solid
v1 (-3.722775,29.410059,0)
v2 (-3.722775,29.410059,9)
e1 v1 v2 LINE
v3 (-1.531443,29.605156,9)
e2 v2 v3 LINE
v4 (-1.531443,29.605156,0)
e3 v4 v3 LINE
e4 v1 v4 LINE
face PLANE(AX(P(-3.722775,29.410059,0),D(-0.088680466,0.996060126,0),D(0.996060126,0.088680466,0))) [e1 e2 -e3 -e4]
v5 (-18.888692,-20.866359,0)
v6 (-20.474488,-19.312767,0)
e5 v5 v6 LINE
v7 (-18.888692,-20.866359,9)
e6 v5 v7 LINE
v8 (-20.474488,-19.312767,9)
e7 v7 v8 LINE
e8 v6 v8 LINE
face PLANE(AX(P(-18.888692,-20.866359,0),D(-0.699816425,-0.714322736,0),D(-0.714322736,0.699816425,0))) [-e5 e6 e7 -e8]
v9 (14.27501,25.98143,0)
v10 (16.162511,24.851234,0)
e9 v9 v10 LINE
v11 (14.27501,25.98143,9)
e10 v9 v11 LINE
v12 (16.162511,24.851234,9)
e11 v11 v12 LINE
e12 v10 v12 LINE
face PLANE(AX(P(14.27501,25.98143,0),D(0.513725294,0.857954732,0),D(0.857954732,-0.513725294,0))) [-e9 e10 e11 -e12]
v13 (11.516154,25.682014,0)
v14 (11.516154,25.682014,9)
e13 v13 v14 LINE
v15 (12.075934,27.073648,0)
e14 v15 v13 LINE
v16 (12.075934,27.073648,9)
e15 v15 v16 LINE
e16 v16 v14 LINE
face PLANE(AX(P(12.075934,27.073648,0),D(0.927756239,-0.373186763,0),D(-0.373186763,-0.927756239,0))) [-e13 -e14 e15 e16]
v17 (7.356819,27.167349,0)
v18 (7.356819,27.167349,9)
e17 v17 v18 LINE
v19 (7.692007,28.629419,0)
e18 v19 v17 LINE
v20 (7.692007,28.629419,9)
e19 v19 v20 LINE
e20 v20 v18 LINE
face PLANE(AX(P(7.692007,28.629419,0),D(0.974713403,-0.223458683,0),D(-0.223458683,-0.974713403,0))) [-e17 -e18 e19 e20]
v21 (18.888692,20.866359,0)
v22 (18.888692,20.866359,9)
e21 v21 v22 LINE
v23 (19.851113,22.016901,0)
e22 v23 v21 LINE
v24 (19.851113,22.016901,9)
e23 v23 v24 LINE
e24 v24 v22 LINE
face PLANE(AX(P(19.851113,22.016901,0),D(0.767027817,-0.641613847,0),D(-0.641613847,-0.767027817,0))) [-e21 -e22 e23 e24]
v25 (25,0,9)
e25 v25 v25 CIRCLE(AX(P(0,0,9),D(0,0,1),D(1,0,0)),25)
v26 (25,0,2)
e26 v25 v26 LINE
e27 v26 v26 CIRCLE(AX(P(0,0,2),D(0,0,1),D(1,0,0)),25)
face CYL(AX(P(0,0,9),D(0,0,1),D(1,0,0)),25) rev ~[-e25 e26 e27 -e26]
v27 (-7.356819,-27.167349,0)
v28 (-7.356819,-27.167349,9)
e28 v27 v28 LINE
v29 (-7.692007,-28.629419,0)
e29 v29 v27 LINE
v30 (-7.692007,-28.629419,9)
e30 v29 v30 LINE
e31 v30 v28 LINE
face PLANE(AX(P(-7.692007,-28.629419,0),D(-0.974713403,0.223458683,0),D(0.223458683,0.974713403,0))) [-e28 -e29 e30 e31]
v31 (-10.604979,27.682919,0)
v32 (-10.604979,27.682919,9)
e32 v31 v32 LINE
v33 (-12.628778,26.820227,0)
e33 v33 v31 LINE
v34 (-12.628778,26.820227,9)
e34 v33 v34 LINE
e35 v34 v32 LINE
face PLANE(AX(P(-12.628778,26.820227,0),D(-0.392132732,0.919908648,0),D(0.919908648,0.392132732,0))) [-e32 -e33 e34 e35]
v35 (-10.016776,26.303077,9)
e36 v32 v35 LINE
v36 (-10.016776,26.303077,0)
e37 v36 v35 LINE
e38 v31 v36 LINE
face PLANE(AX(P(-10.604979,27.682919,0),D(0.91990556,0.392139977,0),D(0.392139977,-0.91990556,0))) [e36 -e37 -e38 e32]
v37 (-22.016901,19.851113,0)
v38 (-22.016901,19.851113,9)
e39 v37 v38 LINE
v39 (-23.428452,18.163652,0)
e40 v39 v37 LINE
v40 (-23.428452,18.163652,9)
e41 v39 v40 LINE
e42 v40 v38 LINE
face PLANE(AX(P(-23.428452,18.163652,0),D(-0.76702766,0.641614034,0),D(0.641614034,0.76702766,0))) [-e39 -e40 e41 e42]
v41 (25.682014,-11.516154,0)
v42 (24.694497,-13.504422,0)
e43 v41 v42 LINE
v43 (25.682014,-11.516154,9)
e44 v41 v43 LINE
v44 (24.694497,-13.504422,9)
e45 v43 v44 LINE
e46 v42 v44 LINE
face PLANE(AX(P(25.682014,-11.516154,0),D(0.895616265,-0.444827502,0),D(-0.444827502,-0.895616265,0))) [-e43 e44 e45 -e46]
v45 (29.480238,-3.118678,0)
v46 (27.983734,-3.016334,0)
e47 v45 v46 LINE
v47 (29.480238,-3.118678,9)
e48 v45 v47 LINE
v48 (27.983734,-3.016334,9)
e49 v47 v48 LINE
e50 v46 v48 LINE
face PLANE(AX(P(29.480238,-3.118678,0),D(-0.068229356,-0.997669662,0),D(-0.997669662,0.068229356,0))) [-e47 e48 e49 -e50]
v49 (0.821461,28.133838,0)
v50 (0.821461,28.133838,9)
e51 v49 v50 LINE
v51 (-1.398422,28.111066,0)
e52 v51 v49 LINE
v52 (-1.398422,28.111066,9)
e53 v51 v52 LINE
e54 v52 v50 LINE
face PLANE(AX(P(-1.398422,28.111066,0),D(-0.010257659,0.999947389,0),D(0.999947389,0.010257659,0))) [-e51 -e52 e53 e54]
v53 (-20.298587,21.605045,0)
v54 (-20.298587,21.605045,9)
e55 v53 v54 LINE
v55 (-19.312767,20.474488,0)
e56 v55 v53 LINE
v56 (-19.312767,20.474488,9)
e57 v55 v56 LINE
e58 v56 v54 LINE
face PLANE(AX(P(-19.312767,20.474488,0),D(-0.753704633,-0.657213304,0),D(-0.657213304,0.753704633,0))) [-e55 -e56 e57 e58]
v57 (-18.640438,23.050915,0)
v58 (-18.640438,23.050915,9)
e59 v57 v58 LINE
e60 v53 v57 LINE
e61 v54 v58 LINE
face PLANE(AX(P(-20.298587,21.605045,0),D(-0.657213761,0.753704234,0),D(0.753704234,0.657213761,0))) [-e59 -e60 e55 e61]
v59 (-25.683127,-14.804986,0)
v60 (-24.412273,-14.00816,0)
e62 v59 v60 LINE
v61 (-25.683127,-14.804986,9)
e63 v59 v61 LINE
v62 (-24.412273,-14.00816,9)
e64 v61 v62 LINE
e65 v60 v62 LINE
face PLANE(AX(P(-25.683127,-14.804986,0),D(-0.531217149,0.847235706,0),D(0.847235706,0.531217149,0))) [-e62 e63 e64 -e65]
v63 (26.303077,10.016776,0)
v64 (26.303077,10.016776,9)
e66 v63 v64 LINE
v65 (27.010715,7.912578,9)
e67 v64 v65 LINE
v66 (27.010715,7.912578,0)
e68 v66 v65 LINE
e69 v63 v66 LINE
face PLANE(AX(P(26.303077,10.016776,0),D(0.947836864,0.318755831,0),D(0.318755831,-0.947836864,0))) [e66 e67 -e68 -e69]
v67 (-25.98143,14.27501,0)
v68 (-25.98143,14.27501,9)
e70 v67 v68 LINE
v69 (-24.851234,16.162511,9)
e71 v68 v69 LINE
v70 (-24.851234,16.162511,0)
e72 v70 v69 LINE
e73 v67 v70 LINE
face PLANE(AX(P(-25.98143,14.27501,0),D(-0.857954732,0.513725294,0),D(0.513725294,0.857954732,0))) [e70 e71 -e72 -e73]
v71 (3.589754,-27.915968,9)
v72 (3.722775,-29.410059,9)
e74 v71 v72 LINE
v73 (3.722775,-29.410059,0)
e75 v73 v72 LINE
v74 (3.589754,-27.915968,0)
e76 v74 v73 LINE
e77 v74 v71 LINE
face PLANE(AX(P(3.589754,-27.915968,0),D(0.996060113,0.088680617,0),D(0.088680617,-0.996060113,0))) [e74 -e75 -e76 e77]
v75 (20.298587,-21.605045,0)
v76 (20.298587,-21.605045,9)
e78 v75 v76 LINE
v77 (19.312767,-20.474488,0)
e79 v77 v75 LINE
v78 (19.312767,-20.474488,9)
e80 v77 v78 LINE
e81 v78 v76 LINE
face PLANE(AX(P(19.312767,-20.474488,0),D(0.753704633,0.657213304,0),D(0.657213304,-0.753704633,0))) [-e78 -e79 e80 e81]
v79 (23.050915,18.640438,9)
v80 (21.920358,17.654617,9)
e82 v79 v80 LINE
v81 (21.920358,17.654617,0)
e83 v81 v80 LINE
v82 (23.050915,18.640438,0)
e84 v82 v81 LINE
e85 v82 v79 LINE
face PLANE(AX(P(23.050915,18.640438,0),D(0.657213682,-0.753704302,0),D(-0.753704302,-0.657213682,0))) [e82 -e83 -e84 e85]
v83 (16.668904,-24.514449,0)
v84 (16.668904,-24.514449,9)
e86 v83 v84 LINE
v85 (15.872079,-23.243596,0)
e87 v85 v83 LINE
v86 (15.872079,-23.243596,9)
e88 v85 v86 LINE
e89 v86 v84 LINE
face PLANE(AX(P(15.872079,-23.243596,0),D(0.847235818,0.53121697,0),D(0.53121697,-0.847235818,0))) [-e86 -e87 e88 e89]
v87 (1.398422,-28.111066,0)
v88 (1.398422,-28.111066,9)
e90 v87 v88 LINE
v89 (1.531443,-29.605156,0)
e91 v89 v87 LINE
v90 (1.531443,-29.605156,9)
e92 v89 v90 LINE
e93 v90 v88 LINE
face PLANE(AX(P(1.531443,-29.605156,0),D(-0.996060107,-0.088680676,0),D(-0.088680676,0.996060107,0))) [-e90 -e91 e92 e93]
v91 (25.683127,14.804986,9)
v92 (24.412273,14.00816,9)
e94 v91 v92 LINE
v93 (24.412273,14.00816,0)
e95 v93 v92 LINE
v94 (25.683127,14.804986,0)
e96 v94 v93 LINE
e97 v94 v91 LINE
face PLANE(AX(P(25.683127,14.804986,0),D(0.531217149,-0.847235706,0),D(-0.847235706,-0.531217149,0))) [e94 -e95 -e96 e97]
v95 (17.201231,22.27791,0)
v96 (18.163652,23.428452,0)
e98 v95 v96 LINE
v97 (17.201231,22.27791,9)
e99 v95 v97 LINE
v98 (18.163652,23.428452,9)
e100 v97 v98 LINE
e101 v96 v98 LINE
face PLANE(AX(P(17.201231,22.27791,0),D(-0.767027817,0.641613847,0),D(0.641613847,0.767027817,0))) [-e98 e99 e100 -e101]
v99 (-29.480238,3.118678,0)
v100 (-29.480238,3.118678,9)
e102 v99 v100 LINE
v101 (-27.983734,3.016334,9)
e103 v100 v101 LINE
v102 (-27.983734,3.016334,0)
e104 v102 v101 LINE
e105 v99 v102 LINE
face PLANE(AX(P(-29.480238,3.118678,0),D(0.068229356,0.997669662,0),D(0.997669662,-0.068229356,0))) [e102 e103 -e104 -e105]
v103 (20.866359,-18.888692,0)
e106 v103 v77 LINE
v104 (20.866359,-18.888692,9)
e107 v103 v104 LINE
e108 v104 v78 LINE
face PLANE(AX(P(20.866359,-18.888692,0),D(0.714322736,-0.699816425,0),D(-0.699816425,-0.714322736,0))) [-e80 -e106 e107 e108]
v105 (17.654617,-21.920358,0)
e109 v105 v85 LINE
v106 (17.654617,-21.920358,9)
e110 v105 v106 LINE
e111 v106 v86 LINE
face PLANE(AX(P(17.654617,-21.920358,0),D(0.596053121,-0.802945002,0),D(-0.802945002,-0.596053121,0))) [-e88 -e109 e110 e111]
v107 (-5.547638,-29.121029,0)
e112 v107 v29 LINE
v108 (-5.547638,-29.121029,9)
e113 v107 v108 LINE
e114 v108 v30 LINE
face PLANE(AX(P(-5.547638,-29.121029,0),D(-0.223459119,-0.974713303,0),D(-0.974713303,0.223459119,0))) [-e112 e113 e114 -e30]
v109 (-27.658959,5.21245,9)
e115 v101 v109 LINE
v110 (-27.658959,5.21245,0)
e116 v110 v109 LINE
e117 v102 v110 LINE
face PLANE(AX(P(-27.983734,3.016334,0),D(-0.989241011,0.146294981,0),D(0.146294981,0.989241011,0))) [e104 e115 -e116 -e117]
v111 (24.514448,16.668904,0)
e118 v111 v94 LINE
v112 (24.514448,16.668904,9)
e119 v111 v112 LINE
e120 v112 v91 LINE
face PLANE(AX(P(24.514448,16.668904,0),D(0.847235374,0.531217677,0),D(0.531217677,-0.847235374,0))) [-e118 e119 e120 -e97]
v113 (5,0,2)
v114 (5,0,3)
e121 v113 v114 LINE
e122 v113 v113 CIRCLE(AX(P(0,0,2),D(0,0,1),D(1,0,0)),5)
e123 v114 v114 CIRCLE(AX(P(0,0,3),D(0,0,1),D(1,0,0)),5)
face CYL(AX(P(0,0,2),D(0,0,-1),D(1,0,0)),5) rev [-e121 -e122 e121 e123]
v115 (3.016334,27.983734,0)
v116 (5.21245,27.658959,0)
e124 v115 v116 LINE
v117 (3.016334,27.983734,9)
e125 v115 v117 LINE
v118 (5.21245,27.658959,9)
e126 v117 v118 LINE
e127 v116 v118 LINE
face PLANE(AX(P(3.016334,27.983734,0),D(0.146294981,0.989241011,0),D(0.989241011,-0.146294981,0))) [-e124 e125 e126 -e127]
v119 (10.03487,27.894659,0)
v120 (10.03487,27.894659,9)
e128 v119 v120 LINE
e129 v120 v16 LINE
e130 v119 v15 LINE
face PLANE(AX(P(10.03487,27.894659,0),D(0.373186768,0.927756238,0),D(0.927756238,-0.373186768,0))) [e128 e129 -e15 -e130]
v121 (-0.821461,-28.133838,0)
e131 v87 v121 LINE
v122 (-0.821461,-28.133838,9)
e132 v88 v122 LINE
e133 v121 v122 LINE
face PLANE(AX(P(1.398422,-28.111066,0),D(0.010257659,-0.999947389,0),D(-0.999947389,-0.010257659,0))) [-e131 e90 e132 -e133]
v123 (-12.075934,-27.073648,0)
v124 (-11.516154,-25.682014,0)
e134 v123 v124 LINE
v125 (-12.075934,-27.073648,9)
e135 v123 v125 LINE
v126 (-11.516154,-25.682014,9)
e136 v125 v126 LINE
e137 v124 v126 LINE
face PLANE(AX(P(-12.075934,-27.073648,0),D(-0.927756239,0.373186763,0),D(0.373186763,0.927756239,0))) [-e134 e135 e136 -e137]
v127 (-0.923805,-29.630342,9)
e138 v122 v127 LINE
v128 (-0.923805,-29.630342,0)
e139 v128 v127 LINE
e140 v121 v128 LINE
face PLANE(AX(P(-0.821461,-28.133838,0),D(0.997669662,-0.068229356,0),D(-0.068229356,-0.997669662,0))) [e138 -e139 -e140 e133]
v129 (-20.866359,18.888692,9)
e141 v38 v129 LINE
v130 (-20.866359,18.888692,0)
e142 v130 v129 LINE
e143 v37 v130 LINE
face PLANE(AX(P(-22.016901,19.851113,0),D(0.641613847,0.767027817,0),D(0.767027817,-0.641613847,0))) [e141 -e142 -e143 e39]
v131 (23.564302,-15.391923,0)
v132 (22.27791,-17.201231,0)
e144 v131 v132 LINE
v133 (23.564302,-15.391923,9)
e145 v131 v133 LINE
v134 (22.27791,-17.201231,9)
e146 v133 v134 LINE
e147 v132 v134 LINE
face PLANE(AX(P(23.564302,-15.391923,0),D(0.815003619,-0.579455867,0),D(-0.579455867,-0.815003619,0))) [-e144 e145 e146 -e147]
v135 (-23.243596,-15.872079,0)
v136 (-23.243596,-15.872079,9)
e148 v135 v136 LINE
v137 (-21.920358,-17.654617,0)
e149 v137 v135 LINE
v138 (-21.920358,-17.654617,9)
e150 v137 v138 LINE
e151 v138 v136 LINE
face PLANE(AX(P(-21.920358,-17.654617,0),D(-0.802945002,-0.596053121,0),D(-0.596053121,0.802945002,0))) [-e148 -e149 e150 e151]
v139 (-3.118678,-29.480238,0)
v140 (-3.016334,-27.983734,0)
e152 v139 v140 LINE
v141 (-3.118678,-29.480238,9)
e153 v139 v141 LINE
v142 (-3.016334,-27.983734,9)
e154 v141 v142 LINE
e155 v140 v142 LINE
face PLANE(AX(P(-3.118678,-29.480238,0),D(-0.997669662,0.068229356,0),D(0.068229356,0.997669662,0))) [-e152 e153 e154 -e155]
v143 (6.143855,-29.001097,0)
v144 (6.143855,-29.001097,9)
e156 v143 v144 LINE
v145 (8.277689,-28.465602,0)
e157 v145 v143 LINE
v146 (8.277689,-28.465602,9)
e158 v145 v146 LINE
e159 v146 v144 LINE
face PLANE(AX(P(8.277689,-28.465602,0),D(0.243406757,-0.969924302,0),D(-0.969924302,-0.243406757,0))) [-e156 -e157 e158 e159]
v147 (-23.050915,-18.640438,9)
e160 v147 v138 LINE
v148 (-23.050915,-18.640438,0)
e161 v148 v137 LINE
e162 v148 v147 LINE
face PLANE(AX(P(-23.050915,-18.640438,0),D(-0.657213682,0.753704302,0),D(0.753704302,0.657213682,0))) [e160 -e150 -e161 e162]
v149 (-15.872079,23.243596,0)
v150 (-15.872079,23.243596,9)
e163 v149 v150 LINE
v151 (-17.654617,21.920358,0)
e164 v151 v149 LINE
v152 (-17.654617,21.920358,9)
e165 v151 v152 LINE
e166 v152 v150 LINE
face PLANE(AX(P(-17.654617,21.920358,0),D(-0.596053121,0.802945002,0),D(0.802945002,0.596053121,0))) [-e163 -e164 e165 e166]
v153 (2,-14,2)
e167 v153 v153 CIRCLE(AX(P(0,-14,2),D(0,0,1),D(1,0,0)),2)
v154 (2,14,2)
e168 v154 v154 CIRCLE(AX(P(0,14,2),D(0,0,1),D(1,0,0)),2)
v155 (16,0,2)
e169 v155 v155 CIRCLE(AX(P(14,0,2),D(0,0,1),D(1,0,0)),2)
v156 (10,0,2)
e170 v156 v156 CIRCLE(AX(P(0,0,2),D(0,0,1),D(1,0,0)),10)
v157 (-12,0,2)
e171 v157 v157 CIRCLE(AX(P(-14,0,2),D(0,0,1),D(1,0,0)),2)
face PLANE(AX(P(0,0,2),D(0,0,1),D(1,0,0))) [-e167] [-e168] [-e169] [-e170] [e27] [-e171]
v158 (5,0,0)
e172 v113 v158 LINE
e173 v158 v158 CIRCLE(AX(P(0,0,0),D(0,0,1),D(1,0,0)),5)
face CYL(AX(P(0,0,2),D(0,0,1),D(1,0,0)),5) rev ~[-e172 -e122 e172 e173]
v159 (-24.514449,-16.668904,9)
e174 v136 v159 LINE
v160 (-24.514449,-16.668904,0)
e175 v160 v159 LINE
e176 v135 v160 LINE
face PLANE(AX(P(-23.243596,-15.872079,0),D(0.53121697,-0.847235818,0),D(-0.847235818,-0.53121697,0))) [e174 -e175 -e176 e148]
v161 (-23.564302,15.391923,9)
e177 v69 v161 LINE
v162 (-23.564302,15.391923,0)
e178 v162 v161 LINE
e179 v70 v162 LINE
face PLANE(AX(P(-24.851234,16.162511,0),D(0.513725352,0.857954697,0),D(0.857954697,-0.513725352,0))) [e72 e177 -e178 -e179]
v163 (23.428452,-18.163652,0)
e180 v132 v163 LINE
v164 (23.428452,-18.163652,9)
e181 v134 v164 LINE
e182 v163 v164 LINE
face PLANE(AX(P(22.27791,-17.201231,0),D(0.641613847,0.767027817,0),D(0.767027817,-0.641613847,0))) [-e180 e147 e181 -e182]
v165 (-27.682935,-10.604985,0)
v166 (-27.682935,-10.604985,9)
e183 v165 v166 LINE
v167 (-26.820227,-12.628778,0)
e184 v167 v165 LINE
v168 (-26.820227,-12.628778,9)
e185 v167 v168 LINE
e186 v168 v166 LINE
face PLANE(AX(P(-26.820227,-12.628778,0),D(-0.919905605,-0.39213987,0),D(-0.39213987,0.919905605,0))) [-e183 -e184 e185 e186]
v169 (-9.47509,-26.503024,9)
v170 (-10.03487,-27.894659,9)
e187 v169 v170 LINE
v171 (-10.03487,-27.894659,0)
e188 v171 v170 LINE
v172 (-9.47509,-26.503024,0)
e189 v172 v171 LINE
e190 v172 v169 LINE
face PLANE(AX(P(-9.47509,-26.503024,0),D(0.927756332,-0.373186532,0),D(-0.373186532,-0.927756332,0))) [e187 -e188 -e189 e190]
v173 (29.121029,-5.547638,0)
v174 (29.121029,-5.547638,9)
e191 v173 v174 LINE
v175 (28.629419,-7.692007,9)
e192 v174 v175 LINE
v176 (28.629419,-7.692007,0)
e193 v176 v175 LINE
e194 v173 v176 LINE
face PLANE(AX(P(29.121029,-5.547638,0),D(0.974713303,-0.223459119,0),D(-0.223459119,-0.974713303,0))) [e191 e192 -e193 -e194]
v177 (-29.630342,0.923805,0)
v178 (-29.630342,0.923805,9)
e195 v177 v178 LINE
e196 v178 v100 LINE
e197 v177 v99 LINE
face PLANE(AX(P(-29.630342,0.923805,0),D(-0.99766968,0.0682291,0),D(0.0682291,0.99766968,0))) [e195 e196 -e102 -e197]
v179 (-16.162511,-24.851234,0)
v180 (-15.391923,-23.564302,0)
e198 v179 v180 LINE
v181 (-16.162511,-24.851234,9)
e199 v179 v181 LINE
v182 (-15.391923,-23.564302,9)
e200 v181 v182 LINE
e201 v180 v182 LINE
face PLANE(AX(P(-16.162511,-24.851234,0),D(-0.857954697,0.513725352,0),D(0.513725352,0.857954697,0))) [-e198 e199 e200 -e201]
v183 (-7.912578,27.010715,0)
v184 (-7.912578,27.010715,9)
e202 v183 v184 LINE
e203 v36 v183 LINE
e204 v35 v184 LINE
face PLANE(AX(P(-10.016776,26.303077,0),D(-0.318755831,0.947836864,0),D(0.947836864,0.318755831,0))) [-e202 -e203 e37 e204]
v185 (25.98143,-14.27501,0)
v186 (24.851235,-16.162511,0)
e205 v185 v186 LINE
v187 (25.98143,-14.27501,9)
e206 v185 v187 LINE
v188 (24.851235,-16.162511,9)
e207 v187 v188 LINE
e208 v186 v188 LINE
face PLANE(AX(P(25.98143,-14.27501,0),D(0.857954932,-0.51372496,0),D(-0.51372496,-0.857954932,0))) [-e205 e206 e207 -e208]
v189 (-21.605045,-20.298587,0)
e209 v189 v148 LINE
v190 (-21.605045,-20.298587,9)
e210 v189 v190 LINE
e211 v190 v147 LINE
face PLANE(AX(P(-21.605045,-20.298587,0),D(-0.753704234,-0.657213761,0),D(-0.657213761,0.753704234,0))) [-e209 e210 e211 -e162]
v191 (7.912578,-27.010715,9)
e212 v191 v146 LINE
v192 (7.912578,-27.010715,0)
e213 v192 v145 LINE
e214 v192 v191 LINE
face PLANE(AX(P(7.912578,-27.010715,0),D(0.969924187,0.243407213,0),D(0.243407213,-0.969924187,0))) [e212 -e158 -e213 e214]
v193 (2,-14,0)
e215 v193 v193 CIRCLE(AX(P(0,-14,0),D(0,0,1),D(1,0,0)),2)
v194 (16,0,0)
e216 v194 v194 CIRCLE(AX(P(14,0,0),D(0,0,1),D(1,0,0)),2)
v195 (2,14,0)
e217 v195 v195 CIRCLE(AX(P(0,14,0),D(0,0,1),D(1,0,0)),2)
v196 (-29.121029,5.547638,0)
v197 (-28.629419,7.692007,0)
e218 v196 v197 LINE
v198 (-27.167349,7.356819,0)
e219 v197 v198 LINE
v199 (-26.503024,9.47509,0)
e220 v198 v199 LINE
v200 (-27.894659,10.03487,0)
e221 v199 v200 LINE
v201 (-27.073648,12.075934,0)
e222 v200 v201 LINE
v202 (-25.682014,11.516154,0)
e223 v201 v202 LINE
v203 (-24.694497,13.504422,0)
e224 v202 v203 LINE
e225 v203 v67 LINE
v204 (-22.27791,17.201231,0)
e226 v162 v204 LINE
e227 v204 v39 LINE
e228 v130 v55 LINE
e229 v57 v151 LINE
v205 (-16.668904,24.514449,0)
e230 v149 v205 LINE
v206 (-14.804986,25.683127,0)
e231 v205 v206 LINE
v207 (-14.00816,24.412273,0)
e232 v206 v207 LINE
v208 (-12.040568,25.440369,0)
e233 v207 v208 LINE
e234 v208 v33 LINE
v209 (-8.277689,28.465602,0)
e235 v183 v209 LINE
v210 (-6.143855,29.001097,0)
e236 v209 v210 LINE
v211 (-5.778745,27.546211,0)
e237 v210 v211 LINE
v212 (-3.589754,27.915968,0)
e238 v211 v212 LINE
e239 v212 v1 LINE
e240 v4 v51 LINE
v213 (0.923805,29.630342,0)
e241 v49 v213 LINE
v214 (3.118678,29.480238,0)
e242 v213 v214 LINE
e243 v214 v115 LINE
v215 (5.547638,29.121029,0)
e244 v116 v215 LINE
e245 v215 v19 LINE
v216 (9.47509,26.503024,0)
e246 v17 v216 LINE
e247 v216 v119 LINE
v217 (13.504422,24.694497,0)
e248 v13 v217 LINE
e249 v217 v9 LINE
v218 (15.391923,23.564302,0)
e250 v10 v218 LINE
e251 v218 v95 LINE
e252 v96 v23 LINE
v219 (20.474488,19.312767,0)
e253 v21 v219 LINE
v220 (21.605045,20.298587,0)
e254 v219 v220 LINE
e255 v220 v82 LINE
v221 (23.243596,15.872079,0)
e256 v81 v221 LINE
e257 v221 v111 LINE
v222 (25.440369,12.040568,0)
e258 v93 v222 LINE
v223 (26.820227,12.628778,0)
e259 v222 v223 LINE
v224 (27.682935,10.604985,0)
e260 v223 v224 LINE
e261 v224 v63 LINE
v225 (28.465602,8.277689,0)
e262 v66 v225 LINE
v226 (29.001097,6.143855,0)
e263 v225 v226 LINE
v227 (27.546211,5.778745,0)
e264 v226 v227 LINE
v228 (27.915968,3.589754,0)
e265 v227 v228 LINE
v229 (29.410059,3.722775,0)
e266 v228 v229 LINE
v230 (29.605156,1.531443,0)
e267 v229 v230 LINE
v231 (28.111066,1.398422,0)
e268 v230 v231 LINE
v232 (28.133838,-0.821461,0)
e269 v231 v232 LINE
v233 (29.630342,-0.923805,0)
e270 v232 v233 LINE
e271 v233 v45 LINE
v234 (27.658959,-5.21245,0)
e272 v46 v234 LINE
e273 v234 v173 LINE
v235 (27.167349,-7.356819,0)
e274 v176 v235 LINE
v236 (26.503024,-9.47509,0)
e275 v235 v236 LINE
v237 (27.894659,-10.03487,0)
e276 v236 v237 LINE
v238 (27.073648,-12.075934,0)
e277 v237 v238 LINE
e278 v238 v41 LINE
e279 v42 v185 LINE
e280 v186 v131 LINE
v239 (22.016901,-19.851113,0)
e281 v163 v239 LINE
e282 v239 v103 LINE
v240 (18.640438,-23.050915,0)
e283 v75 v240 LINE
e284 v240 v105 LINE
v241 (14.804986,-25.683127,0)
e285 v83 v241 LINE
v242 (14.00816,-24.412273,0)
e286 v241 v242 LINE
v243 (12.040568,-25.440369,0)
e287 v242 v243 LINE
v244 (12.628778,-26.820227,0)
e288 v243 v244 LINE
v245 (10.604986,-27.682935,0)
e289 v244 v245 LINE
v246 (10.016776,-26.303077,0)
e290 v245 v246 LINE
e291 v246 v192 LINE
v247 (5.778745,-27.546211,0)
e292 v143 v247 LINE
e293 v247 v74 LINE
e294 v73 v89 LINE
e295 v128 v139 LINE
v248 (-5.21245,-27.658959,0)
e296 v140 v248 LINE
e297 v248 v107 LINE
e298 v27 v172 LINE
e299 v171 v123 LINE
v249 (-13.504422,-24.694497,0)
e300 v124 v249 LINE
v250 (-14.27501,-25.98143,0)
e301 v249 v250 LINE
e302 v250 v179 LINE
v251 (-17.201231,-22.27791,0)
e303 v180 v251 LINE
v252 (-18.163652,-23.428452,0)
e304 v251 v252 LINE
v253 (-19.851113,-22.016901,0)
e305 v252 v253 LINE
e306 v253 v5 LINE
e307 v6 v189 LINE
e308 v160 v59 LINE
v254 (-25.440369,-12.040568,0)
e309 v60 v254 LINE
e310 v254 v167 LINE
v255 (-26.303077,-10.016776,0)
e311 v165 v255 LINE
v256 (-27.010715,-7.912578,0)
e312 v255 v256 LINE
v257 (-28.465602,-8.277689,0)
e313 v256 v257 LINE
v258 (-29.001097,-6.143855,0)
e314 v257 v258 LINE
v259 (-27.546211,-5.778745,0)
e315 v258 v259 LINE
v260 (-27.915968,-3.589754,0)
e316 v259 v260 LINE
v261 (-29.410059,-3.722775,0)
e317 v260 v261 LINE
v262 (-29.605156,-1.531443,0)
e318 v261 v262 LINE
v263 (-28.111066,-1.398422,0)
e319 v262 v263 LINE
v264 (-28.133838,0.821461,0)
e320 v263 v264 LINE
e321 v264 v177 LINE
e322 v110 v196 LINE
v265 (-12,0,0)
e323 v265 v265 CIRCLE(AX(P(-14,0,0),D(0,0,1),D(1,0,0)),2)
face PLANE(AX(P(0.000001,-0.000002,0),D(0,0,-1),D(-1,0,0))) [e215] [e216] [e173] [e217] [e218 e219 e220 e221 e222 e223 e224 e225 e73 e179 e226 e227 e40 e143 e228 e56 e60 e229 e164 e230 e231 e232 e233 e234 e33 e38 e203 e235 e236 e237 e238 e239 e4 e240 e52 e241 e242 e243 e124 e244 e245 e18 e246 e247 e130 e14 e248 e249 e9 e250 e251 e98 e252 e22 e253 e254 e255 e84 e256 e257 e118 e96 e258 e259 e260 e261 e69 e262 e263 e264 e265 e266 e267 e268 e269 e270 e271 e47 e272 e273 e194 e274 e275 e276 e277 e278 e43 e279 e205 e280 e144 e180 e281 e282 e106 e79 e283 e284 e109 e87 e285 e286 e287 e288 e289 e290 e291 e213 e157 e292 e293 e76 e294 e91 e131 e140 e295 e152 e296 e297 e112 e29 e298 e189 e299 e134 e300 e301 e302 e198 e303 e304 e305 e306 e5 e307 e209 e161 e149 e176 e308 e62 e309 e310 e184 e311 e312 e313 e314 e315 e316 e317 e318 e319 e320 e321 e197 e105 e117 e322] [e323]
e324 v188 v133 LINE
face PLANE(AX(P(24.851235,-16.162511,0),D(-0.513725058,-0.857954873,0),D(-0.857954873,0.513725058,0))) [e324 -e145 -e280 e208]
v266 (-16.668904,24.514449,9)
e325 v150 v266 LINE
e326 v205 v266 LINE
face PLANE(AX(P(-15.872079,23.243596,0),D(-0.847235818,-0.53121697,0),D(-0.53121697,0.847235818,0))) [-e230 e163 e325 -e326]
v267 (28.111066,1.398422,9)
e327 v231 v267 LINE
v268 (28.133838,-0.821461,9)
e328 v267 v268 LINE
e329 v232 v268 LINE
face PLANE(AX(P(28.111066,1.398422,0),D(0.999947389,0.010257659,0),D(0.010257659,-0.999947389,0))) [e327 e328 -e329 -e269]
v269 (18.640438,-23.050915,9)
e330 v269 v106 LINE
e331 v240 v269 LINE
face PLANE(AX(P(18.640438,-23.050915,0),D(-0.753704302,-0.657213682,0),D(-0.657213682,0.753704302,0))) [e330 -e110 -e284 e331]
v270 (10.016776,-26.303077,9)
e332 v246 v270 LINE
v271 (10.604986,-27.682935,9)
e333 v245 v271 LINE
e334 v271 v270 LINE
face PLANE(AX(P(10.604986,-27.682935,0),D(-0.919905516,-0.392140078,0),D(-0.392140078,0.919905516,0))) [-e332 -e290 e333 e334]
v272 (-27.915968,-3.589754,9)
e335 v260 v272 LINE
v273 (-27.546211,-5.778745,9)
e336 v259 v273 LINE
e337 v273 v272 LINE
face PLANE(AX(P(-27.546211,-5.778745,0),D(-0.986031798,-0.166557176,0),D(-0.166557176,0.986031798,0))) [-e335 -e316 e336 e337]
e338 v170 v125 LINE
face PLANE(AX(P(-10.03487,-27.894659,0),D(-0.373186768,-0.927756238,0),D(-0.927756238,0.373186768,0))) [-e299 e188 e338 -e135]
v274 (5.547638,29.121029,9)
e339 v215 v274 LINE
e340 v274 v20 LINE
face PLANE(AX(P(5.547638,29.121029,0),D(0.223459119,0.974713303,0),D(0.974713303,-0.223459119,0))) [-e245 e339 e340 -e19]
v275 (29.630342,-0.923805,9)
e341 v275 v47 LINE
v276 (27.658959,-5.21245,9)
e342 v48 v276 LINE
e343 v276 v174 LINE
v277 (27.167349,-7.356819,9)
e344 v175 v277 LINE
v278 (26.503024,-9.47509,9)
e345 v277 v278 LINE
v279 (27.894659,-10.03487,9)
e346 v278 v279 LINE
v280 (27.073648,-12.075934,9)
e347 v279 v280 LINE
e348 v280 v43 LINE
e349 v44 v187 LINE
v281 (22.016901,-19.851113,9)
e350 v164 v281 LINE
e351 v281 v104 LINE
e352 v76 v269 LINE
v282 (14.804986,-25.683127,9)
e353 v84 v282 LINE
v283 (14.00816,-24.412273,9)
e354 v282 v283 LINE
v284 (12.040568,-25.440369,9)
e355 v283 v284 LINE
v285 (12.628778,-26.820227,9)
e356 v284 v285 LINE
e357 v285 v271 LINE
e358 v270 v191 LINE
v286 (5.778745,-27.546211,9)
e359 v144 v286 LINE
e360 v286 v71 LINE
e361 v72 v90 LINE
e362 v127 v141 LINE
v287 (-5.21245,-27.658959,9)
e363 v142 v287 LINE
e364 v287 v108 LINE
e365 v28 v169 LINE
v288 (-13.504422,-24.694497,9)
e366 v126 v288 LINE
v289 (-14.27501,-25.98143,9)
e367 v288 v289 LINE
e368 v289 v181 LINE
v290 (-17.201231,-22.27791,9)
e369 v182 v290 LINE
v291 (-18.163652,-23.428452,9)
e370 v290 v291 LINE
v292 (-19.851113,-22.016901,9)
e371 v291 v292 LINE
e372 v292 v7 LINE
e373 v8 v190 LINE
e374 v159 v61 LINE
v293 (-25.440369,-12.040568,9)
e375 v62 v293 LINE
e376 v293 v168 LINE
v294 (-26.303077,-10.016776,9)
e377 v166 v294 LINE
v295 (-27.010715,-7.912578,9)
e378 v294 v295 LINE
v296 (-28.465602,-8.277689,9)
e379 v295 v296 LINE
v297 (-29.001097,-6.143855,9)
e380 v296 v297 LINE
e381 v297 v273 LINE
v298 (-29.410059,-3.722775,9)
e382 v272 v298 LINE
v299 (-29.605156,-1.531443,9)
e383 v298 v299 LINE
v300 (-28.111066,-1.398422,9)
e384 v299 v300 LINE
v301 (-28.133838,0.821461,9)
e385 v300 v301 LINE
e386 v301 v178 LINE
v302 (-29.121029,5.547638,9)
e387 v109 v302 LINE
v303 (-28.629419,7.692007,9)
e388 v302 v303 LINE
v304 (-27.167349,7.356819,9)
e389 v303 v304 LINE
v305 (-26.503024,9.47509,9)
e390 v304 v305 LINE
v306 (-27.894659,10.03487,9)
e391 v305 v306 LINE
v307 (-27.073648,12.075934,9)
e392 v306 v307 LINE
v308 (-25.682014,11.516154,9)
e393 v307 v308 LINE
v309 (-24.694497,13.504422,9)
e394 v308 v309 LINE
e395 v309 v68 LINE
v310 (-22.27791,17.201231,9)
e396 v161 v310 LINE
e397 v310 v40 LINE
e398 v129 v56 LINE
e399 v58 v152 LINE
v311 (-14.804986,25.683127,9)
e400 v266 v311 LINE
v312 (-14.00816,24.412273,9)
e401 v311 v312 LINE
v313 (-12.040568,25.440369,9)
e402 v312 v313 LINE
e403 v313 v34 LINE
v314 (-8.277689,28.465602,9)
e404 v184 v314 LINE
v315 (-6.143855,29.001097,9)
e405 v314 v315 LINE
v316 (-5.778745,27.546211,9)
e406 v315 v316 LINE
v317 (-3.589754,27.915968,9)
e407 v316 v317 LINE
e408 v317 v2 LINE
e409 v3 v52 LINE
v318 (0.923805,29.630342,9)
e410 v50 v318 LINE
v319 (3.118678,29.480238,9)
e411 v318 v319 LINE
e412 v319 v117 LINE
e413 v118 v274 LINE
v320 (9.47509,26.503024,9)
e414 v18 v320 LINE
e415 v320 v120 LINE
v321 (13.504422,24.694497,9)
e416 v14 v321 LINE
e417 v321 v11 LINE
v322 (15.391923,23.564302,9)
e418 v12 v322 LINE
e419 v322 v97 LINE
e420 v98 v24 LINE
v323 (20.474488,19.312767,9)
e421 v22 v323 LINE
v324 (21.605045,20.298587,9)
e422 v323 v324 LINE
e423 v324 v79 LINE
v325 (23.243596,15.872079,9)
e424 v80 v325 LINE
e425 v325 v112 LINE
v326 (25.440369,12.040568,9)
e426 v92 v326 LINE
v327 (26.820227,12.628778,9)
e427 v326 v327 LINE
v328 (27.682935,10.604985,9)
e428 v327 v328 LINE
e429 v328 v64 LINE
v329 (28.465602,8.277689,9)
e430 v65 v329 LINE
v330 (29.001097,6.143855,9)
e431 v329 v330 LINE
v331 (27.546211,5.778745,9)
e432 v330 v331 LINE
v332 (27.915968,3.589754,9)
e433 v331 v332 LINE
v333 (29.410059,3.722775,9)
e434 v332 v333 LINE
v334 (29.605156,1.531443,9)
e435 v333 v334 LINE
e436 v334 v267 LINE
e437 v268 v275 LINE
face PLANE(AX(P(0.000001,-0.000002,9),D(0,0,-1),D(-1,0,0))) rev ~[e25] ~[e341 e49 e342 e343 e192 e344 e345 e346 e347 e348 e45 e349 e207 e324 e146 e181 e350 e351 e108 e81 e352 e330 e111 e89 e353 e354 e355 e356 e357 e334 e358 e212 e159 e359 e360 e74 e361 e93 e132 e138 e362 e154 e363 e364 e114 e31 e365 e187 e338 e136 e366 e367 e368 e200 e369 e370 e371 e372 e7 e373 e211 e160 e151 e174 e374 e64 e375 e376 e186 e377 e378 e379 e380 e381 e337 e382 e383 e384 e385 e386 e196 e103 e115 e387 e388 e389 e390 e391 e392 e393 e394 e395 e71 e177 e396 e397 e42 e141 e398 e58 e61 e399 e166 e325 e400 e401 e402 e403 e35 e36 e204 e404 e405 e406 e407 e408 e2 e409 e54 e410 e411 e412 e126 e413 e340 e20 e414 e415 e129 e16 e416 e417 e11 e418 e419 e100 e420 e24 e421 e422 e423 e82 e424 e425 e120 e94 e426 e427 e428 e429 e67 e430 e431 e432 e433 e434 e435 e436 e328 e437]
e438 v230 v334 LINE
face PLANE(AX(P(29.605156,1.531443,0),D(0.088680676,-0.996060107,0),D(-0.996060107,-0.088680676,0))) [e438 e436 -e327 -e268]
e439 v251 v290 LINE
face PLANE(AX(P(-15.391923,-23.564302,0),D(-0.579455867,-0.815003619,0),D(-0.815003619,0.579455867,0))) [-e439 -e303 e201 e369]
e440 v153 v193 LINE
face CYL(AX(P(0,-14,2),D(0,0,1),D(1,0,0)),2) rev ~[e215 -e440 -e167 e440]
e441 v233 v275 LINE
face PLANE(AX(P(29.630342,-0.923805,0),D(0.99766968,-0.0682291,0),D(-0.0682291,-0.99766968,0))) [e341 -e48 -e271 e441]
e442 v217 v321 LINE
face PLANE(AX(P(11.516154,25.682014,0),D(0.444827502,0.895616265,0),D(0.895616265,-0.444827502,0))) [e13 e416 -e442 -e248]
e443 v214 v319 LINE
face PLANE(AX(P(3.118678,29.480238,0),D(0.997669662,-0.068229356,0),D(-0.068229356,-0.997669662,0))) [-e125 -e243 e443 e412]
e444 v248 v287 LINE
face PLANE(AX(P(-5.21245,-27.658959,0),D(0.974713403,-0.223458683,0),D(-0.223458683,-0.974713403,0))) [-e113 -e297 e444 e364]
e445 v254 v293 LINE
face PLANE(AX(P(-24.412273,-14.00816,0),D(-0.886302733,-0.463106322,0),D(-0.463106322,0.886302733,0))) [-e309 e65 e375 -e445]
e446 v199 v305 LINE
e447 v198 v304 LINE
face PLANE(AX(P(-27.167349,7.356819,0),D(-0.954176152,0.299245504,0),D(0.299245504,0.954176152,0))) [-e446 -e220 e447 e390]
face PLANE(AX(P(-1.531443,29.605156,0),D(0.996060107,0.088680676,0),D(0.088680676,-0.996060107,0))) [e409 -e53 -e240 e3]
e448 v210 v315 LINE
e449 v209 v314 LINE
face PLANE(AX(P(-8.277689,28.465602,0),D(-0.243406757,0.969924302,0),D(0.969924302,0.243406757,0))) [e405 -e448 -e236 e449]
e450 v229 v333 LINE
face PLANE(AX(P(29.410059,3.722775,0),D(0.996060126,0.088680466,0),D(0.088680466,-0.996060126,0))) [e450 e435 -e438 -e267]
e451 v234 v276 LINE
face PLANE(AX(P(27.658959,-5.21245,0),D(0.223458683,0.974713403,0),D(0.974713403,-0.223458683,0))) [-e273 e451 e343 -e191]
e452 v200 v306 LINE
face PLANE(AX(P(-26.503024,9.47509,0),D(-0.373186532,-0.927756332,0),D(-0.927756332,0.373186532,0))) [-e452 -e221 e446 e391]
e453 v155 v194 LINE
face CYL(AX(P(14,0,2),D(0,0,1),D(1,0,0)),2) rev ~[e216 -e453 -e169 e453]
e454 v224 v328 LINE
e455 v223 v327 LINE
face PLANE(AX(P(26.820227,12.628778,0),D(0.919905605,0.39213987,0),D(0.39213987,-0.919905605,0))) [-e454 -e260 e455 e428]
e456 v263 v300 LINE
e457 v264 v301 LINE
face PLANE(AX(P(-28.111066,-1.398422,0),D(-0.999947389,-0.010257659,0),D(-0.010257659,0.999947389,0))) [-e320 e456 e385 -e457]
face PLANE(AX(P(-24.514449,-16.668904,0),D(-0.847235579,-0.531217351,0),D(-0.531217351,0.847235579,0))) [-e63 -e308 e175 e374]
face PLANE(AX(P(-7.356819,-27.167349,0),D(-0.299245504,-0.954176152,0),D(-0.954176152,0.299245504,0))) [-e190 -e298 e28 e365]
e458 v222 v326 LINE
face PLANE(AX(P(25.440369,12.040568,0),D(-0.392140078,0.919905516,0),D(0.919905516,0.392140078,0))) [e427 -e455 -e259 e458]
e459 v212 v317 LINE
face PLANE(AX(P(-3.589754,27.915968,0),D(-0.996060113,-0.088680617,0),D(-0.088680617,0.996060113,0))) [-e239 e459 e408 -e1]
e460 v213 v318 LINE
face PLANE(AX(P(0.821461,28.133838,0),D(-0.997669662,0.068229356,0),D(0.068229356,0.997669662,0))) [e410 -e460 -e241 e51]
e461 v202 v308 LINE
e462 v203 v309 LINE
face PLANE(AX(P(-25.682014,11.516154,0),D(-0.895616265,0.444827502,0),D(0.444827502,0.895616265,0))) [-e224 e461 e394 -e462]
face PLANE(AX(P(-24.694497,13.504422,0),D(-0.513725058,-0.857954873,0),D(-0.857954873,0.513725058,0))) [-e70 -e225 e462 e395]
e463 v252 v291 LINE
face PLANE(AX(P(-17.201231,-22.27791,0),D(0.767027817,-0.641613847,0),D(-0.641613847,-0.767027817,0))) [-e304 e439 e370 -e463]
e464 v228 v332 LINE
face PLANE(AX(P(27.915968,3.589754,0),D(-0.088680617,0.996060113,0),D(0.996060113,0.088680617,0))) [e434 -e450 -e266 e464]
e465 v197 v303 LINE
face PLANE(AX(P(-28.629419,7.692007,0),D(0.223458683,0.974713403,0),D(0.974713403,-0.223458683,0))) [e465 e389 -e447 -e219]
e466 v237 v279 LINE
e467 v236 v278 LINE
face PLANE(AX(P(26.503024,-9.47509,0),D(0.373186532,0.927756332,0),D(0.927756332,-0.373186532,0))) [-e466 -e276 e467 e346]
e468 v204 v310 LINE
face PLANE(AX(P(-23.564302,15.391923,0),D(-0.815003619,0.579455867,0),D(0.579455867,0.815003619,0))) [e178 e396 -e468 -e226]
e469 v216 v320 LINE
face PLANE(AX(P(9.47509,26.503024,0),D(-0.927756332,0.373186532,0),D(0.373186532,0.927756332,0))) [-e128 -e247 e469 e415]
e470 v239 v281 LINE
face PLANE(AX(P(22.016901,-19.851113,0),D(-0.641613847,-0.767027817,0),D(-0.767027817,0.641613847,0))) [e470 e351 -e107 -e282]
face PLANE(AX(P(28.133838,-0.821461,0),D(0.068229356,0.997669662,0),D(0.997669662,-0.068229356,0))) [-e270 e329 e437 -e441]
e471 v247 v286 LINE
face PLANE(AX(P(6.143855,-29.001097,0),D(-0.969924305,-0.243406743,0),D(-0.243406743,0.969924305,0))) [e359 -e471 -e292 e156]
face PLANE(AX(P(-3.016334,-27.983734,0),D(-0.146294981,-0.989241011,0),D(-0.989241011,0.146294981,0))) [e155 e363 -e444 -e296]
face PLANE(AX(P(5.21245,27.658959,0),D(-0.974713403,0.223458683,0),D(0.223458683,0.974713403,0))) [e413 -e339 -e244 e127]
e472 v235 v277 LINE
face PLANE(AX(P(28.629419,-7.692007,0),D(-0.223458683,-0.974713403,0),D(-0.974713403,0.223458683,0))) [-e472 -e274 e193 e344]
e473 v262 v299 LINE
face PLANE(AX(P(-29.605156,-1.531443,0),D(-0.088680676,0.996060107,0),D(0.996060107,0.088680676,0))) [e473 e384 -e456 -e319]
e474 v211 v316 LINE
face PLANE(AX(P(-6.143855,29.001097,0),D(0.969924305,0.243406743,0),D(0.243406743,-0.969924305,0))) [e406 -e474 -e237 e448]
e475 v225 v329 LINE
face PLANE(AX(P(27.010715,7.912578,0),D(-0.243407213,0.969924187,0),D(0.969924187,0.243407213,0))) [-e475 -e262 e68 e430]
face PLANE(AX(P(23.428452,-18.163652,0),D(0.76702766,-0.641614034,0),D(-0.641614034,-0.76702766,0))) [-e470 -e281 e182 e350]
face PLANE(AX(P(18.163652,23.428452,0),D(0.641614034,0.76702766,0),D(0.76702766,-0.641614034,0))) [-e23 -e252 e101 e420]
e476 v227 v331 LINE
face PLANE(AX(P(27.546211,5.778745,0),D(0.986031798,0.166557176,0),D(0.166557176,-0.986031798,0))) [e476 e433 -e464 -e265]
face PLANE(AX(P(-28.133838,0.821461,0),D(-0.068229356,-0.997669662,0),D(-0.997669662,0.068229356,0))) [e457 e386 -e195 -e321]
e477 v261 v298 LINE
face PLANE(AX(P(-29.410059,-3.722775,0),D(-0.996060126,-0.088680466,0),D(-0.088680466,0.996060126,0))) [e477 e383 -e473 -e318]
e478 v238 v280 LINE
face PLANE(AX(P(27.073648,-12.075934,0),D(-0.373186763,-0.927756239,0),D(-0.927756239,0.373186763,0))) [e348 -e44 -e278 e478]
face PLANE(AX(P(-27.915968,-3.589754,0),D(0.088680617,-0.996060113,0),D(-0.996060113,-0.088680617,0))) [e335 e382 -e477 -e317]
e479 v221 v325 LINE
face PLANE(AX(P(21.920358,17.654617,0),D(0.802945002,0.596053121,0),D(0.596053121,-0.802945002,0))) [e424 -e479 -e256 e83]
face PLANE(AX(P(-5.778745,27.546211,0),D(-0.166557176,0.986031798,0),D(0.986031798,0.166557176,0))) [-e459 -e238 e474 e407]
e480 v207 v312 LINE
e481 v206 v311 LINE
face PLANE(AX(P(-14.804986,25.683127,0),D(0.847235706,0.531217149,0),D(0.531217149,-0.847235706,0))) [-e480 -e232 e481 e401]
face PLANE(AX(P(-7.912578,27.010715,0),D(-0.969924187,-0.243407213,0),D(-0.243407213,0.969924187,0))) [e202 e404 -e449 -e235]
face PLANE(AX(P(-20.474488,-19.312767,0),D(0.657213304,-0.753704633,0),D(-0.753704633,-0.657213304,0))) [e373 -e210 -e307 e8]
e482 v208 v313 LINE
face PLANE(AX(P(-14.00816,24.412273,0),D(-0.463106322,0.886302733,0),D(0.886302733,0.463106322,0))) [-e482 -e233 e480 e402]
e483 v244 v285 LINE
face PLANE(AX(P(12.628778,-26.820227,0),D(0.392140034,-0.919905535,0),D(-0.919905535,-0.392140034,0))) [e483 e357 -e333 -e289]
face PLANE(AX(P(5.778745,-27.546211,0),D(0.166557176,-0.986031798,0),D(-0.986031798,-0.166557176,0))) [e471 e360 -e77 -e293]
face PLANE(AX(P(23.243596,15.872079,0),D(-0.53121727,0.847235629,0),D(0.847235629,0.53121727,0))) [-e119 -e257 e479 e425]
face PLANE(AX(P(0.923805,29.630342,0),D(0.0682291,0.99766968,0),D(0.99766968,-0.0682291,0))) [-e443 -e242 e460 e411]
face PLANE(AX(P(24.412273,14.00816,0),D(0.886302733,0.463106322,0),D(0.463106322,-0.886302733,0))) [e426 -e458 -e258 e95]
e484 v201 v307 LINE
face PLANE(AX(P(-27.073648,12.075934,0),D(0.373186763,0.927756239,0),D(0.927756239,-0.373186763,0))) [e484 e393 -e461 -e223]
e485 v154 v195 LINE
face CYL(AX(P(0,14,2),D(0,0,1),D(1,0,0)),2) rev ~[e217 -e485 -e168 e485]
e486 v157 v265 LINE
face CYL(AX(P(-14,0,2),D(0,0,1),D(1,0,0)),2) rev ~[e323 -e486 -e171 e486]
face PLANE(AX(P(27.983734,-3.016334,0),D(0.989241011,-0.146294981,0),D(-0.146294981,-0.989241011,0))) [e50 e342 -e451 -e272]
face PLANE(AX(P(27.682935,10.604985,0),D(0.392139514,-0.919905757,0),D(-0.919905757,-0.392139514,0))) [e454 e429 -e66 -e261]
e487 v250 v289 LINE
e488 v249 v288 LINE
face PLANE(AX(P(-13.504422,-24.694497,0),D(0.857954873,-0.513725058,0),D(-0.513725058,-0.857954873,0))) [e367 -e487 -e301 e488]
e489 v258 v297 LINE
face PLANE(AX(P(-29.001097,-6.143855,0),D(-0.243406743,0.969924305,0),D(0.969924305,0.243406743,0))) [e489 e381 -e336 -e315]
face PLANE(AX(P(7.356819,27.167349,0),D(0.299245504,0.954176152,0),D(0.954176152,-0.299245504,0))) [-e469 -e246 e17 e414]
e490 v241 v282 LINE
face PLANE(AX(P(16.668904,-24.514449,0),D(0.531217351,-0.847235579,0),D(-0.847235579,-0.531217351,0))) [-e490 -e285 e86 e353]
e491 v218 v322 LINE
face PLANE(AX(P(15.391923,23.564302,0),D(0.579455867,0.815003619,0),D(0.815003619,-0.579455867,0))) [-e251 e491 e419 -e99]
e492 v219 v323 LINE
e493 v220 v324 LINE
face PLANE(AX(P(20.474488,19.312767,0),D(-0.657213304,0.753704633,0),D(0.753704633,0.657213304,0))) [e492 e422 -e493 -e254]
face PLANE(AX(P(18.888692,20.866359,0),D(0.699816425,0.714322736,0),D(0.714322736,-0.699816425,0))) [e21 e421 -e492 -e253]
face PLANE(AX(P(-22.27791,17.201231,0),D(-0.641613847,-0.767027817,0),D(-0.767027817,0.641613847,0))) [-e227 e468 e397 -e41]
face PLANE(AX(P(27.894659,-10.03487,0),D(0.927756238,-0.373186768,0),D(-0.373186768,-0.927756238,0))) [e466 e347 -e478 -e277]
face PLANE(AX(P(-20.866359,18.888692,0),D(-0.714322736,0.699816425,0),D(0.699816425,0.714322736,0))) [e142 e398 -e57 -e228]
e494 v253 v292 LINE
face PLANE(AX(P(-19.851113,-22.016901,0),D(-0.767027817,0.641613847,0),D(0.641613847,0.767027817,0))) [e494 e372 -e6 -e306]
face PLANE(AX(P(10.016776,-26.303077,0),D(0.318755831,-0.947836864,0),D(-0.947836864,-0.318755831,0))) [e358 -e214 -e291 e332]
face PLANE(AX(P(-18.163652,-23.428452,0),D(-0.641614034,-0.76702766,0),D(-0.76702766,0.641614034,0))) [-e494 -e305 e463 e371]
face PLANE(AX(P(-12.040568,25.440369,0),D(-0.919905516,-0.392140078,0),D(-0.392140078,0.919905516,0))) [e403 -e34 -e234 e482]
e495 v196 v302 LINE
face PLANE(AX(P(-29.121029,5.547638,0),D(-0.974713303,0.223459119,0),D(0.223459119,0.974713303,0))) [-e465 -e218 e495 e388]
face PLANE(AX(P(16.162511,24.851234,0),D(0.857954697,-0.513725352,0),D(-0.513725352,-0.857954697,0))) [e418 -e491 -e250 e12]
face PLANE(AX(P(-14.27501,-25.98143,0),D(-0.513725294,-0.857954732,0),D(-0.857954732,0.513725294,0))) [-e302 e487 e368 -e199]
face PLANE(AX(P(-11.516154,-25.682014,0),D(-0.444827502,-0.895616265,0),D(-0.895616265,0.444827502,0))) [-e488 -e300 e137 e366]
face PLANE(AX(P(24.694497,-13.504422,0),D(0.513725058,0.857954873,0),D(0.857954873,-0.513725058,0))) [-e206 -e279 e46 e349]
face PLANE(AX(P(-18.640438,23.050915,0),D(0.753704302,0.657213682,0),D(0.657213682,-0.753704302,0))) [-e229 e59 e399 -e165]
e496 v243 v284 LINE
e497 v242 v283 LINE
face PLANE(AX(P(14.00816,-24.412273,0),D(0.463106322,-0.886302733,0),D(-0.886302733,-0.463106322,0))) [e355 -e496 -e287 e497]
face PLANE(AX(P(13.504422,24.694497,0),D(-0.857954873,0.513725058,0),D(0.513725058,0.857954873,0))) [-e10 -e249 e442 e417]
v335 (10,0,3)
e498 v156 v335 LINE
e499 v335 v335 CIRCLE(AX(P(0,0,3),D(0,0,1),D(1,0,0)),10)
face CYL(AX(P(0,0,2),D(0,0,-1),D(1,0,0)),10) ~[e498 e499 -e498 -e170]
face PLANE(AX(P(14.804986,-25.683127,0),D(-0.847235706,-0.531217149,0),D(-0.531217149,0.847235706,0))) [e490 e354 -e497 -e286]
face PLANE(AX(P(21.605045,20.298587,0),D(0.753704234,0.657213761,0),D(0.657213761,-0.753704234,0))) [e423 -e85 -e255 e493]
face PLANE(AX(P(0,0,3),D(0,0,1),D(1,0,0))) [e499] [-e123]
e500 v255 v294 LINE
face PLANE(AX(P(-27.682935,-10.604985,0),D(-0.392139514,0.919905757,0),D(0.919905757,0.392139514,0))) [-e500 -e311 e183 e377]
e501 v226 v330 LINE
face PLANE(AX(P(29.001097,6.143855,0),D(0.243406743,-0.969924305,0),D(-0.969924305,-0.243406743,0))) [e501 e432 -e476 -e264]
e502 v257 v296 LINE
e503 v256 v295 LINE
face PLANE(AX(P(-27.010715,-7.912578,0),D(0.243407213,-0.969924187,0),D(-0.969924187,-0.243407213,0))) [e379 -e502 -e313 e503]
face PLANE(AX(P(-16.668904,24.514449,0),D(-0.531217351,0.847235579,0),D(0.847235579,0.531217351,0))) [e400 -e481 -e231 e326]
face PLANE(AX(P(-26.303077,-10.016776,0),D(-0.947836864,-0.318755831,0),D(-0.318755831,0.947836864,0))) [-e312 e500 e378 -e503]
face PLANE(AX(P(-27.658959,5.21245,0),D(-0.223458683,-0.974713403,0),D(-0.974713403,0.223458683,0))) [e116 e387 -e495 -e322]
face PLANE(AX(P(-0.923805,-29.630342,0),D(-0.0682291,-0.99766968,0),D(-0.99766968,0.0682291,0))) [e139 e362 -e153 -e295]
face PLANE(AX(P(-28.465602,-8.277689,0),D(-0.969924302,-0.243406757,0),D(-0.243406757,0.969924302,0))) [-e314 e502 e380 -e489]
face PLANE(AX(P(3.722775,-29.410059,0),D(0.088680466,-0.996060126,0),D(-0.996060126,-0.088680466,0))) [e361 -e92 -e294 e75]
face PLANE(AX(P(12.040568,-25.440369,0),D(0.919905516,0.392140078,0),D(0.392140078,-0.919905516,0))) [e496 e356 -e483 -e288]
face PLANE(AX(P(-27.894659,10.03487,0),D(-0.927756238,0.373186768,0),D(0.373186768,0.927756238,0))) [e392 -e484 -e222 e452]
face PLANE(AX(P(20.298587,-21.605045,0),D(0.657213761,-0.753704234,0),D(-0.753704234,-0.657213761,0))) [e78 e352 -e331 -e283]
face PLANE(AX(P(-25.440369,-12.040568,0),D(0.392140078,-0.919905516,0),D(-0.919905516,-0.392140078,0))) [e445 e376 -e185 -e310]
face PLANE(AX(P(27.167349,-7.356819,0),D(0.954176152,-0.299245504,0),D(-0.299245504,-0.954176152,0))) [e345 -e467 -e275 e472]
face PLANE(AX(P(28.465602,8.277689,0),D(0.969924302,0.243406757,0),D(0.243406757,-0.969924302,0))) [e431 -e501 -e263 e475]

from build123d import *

# Parameters (mm, degrees)
PAD_DEPTH       = 9
SKETCH001_R     = 25
POCKET_DEPTH    = 7
SKETCH002_R     = 5
POCKET001_DEPTH = 2.001
SKETCH003_R     = 2
POCKET002_DEPTH = 2.001
SKETCH004_R     = 10
SKETCH004_R_2   = 5
PAD001_DEPTH    = 1


with BuildPart() as part:
    # Sketch → Pad (new body)
    with BuildSketch(Plane.XY):
        Polygon((-26.503024, 9.47509), (-27.894659, 10.03487), (-27.073648, 12.075934), (-25.682014, 11.516154), (-24.694497, 13.504422), (-25.98143, 14.27501), (-24.851234, 16.162511), (-23.564302, 15.391923), (-22.27791, 17.201231), (-23.428452, 18.163652), (-22.016901, 19.851113), (-20.866359, 18.888692), (-19.312767, 20.474488), (-20.298587, 21.605045), (-18.640438, 23.050915), (-17.654617, 21.920358), (-15.872079, 23.243596), (-16.668904, 24.514449), (-14.804986, 25.683127), (-14.00816, 24.412273), (-12.040568, 25.440369), (-12.628778, 26.820227), (-10.604979, 27.682919), (-10.016776, 26.303077), (-7.912578, 27.010715), (-8.277689, 28.465602), (-6.143855, 29.001097), (-5.778745, 27.546211), (-3.589754, 27.915968), (-3.722775, 29.410059), (-1.531443, 29.605156), (-1.398422, 28.111066), (0.821461, 28.133838), (0.923805, 29.630342), (3.118678, 29.480238), (3.016334, 27.983734), (5.21245, 27.658959), (5.547638, 29.121029), (7.692007, 28.629419), (7.356819, 27.167349), (9.47509, 26.503024), (10.03487, 27.894659), (12.075934, 27.073648), (11.516154, 25.682014), (13.504422, 24.694497), (14.27501, 25.98143), (16.162511, 24.851234), (15.391923, 23.564302), (17.201231, 22.27791), (18.163652, 23.428452), (19.851113, 22.016901), (18.888692, 20.866359), (20.474488, 19.312767), (21.605045, 20.298587), (23.050915, 18.640438), (21.920358, 17.654617), (23.243596, 15.872079), (24.514448, 16.668904), (25.683127, 14.804986), (24.412273, 14.00816), (25.440369, 12.040568), (26.820227, 12.628778), (27.682935, 10.604985), (26.303077, 10.016776), (27.010715, 7.912578), (28.465602, 8.277689), (29.001097, 6.143855), (27.546211, 5.778745), (27.915968, 3.589754), (29.410059, 3.722775), (29.605156, 1.531443), (28.111066, 1.398422), (28.133838, -0.821461), (29.630342, -0.923805), (29.480238, -3.118678), (27.983734, -3.016334), (27.658959, -5.21245), (29.121029, -5.547638), (28.629419, -7.692007), (27.167349, -7.356819), (26.503024, -9.47509), (27.894659, -10.03487), (27.073648, -12.075934), (25.682014, -11.516154), (24.694497, -13.504422), (25.98143, -14.27501), (24.851235, -16.162511), (23.564302, -15.391923), (22.27791, -17.201231), (23.428452, -18.163652), (22.016901, -19.851113), (20.866359, -18.888692), (19.312767, -20.474488), (20.298587, -21.605045), (18.640438, -23.050915), (17.654617, -21.920358), (15.872079, -23.243596), (16.668904, -24.514449), (14.804986, -25.683127), (14.00816, -24.412273), (12.040568, -25.440369), (12.628778, -26.820227), (10.604986, -27.682935), (10.016776, -26.303077), (7.912578, -27.010715), (8.277689, -28.465602), (6.143855, -29.001097), (5.778745, -27.546211), (3.589754, -27.915968), (3.722775, -29.410059), (1.531443, -29.605156), (1.398422, -28.111066), (-0.821461, -28.133838), (-0.923805, -29.630342), (-3.118678, -29.480238), (-3.016334, -27.983734), (-5.21245, -27.658959), (-5.547638, -29.121029), (-7.692007, -28.629419), (-7.356819, -27.167349), (-9.47509, -26.503024), (-10.03487, -27.894659), (-12.075934, -27.073648), (-11.516154, -25.682014), (-13.504422, -24.694497), (-14.27501, -25.98143), (-16.162511, -24.851234), (-15.391923, -23.564302), (-17.201231, -22.27791), (-18.163652, -23.428452), (-19.851113, -22.016901), (-18.888692, -20.866359), (-20.474488, -19.312767), (-21.605045, -20.298587), (-23.050915, -18.640438), (-21.920358, -17.654617), (-23.243596, -15.872079), (-24.514449, -16.668904), (-25.683127, -14.804986), (-24.412273, -14.00816), (-25.440369, -12.040568), (-26.820227, -12.628778), (-27.682935, -10.604985), (-26.303077, -10.016776), (-27.010715, -7.912578), (-28.465602, -8.277689), (-29.001097, -6.143855), (-27.546211, -5.778745), (-27.915968, -3.589754), (-29.410059, -3.722775), (-29.605156, -1.531443), (-28.111066, -1.398422), (-28.133838, 0.821461), (-29.630342, 0.923805), (-29.480238, 3.118678), (-27.983734, 3.016334), (-27.658959, 5.21245), (-29.121029, 5.547638), (-28.629419, 7.692007), (-27.167349, 7.356819), align=None)
    extrude(amount=PAD_DEPTH)

    # Sketch001 (on Face162 of Pad) → Pocket (cut)
    with BuildSketch(Plane.XY.offset(9)):
        Circle(SKETCH001_R)
    extrude(amount=-POCKET_DEPTH, mode=Mode.SUBTRACT)

    # Sketch002 (on Face164 of Pocket) → Pocket001 (cut, through all)
    with BuildSketch(Plane.XY.offset(2)):
        Circle(SKETCH002_R)
    extrude(amount=-POCKET001_DEPTH, mode=Mode.SUBTRACT)

    # Sketch003 (on Face165 of Pocket001) → Pocket002 (cut, through all)
    with BuildSketch(Plane.XY.offset(2)):
        with Locations((0, 14)):
            Circle(SKETCH003_R)
        with Locations((14, 0)):
            Circle(SKETCH003_R)
        with Locations((0, -14)):
            Circle(SKETCH003_R)
        with Locations((-14, 0)):
            Circle(SKETCH003_R)
    extrude(amount=-POCKET002_DEPTH, mode=Mode.SUBTRACT)

    # Sketch004 (on Face169 of Pocket002) → Pad001 (join)
    with BuildSketch(Plane.XY.offset(2)):
        Circle(SKETCH004_R)
        Circle(SKETCH004_R_2, mode=Mode.SUBTRACT)
    extrude(amount=PAD001_DEPTH)


solid = part.part
